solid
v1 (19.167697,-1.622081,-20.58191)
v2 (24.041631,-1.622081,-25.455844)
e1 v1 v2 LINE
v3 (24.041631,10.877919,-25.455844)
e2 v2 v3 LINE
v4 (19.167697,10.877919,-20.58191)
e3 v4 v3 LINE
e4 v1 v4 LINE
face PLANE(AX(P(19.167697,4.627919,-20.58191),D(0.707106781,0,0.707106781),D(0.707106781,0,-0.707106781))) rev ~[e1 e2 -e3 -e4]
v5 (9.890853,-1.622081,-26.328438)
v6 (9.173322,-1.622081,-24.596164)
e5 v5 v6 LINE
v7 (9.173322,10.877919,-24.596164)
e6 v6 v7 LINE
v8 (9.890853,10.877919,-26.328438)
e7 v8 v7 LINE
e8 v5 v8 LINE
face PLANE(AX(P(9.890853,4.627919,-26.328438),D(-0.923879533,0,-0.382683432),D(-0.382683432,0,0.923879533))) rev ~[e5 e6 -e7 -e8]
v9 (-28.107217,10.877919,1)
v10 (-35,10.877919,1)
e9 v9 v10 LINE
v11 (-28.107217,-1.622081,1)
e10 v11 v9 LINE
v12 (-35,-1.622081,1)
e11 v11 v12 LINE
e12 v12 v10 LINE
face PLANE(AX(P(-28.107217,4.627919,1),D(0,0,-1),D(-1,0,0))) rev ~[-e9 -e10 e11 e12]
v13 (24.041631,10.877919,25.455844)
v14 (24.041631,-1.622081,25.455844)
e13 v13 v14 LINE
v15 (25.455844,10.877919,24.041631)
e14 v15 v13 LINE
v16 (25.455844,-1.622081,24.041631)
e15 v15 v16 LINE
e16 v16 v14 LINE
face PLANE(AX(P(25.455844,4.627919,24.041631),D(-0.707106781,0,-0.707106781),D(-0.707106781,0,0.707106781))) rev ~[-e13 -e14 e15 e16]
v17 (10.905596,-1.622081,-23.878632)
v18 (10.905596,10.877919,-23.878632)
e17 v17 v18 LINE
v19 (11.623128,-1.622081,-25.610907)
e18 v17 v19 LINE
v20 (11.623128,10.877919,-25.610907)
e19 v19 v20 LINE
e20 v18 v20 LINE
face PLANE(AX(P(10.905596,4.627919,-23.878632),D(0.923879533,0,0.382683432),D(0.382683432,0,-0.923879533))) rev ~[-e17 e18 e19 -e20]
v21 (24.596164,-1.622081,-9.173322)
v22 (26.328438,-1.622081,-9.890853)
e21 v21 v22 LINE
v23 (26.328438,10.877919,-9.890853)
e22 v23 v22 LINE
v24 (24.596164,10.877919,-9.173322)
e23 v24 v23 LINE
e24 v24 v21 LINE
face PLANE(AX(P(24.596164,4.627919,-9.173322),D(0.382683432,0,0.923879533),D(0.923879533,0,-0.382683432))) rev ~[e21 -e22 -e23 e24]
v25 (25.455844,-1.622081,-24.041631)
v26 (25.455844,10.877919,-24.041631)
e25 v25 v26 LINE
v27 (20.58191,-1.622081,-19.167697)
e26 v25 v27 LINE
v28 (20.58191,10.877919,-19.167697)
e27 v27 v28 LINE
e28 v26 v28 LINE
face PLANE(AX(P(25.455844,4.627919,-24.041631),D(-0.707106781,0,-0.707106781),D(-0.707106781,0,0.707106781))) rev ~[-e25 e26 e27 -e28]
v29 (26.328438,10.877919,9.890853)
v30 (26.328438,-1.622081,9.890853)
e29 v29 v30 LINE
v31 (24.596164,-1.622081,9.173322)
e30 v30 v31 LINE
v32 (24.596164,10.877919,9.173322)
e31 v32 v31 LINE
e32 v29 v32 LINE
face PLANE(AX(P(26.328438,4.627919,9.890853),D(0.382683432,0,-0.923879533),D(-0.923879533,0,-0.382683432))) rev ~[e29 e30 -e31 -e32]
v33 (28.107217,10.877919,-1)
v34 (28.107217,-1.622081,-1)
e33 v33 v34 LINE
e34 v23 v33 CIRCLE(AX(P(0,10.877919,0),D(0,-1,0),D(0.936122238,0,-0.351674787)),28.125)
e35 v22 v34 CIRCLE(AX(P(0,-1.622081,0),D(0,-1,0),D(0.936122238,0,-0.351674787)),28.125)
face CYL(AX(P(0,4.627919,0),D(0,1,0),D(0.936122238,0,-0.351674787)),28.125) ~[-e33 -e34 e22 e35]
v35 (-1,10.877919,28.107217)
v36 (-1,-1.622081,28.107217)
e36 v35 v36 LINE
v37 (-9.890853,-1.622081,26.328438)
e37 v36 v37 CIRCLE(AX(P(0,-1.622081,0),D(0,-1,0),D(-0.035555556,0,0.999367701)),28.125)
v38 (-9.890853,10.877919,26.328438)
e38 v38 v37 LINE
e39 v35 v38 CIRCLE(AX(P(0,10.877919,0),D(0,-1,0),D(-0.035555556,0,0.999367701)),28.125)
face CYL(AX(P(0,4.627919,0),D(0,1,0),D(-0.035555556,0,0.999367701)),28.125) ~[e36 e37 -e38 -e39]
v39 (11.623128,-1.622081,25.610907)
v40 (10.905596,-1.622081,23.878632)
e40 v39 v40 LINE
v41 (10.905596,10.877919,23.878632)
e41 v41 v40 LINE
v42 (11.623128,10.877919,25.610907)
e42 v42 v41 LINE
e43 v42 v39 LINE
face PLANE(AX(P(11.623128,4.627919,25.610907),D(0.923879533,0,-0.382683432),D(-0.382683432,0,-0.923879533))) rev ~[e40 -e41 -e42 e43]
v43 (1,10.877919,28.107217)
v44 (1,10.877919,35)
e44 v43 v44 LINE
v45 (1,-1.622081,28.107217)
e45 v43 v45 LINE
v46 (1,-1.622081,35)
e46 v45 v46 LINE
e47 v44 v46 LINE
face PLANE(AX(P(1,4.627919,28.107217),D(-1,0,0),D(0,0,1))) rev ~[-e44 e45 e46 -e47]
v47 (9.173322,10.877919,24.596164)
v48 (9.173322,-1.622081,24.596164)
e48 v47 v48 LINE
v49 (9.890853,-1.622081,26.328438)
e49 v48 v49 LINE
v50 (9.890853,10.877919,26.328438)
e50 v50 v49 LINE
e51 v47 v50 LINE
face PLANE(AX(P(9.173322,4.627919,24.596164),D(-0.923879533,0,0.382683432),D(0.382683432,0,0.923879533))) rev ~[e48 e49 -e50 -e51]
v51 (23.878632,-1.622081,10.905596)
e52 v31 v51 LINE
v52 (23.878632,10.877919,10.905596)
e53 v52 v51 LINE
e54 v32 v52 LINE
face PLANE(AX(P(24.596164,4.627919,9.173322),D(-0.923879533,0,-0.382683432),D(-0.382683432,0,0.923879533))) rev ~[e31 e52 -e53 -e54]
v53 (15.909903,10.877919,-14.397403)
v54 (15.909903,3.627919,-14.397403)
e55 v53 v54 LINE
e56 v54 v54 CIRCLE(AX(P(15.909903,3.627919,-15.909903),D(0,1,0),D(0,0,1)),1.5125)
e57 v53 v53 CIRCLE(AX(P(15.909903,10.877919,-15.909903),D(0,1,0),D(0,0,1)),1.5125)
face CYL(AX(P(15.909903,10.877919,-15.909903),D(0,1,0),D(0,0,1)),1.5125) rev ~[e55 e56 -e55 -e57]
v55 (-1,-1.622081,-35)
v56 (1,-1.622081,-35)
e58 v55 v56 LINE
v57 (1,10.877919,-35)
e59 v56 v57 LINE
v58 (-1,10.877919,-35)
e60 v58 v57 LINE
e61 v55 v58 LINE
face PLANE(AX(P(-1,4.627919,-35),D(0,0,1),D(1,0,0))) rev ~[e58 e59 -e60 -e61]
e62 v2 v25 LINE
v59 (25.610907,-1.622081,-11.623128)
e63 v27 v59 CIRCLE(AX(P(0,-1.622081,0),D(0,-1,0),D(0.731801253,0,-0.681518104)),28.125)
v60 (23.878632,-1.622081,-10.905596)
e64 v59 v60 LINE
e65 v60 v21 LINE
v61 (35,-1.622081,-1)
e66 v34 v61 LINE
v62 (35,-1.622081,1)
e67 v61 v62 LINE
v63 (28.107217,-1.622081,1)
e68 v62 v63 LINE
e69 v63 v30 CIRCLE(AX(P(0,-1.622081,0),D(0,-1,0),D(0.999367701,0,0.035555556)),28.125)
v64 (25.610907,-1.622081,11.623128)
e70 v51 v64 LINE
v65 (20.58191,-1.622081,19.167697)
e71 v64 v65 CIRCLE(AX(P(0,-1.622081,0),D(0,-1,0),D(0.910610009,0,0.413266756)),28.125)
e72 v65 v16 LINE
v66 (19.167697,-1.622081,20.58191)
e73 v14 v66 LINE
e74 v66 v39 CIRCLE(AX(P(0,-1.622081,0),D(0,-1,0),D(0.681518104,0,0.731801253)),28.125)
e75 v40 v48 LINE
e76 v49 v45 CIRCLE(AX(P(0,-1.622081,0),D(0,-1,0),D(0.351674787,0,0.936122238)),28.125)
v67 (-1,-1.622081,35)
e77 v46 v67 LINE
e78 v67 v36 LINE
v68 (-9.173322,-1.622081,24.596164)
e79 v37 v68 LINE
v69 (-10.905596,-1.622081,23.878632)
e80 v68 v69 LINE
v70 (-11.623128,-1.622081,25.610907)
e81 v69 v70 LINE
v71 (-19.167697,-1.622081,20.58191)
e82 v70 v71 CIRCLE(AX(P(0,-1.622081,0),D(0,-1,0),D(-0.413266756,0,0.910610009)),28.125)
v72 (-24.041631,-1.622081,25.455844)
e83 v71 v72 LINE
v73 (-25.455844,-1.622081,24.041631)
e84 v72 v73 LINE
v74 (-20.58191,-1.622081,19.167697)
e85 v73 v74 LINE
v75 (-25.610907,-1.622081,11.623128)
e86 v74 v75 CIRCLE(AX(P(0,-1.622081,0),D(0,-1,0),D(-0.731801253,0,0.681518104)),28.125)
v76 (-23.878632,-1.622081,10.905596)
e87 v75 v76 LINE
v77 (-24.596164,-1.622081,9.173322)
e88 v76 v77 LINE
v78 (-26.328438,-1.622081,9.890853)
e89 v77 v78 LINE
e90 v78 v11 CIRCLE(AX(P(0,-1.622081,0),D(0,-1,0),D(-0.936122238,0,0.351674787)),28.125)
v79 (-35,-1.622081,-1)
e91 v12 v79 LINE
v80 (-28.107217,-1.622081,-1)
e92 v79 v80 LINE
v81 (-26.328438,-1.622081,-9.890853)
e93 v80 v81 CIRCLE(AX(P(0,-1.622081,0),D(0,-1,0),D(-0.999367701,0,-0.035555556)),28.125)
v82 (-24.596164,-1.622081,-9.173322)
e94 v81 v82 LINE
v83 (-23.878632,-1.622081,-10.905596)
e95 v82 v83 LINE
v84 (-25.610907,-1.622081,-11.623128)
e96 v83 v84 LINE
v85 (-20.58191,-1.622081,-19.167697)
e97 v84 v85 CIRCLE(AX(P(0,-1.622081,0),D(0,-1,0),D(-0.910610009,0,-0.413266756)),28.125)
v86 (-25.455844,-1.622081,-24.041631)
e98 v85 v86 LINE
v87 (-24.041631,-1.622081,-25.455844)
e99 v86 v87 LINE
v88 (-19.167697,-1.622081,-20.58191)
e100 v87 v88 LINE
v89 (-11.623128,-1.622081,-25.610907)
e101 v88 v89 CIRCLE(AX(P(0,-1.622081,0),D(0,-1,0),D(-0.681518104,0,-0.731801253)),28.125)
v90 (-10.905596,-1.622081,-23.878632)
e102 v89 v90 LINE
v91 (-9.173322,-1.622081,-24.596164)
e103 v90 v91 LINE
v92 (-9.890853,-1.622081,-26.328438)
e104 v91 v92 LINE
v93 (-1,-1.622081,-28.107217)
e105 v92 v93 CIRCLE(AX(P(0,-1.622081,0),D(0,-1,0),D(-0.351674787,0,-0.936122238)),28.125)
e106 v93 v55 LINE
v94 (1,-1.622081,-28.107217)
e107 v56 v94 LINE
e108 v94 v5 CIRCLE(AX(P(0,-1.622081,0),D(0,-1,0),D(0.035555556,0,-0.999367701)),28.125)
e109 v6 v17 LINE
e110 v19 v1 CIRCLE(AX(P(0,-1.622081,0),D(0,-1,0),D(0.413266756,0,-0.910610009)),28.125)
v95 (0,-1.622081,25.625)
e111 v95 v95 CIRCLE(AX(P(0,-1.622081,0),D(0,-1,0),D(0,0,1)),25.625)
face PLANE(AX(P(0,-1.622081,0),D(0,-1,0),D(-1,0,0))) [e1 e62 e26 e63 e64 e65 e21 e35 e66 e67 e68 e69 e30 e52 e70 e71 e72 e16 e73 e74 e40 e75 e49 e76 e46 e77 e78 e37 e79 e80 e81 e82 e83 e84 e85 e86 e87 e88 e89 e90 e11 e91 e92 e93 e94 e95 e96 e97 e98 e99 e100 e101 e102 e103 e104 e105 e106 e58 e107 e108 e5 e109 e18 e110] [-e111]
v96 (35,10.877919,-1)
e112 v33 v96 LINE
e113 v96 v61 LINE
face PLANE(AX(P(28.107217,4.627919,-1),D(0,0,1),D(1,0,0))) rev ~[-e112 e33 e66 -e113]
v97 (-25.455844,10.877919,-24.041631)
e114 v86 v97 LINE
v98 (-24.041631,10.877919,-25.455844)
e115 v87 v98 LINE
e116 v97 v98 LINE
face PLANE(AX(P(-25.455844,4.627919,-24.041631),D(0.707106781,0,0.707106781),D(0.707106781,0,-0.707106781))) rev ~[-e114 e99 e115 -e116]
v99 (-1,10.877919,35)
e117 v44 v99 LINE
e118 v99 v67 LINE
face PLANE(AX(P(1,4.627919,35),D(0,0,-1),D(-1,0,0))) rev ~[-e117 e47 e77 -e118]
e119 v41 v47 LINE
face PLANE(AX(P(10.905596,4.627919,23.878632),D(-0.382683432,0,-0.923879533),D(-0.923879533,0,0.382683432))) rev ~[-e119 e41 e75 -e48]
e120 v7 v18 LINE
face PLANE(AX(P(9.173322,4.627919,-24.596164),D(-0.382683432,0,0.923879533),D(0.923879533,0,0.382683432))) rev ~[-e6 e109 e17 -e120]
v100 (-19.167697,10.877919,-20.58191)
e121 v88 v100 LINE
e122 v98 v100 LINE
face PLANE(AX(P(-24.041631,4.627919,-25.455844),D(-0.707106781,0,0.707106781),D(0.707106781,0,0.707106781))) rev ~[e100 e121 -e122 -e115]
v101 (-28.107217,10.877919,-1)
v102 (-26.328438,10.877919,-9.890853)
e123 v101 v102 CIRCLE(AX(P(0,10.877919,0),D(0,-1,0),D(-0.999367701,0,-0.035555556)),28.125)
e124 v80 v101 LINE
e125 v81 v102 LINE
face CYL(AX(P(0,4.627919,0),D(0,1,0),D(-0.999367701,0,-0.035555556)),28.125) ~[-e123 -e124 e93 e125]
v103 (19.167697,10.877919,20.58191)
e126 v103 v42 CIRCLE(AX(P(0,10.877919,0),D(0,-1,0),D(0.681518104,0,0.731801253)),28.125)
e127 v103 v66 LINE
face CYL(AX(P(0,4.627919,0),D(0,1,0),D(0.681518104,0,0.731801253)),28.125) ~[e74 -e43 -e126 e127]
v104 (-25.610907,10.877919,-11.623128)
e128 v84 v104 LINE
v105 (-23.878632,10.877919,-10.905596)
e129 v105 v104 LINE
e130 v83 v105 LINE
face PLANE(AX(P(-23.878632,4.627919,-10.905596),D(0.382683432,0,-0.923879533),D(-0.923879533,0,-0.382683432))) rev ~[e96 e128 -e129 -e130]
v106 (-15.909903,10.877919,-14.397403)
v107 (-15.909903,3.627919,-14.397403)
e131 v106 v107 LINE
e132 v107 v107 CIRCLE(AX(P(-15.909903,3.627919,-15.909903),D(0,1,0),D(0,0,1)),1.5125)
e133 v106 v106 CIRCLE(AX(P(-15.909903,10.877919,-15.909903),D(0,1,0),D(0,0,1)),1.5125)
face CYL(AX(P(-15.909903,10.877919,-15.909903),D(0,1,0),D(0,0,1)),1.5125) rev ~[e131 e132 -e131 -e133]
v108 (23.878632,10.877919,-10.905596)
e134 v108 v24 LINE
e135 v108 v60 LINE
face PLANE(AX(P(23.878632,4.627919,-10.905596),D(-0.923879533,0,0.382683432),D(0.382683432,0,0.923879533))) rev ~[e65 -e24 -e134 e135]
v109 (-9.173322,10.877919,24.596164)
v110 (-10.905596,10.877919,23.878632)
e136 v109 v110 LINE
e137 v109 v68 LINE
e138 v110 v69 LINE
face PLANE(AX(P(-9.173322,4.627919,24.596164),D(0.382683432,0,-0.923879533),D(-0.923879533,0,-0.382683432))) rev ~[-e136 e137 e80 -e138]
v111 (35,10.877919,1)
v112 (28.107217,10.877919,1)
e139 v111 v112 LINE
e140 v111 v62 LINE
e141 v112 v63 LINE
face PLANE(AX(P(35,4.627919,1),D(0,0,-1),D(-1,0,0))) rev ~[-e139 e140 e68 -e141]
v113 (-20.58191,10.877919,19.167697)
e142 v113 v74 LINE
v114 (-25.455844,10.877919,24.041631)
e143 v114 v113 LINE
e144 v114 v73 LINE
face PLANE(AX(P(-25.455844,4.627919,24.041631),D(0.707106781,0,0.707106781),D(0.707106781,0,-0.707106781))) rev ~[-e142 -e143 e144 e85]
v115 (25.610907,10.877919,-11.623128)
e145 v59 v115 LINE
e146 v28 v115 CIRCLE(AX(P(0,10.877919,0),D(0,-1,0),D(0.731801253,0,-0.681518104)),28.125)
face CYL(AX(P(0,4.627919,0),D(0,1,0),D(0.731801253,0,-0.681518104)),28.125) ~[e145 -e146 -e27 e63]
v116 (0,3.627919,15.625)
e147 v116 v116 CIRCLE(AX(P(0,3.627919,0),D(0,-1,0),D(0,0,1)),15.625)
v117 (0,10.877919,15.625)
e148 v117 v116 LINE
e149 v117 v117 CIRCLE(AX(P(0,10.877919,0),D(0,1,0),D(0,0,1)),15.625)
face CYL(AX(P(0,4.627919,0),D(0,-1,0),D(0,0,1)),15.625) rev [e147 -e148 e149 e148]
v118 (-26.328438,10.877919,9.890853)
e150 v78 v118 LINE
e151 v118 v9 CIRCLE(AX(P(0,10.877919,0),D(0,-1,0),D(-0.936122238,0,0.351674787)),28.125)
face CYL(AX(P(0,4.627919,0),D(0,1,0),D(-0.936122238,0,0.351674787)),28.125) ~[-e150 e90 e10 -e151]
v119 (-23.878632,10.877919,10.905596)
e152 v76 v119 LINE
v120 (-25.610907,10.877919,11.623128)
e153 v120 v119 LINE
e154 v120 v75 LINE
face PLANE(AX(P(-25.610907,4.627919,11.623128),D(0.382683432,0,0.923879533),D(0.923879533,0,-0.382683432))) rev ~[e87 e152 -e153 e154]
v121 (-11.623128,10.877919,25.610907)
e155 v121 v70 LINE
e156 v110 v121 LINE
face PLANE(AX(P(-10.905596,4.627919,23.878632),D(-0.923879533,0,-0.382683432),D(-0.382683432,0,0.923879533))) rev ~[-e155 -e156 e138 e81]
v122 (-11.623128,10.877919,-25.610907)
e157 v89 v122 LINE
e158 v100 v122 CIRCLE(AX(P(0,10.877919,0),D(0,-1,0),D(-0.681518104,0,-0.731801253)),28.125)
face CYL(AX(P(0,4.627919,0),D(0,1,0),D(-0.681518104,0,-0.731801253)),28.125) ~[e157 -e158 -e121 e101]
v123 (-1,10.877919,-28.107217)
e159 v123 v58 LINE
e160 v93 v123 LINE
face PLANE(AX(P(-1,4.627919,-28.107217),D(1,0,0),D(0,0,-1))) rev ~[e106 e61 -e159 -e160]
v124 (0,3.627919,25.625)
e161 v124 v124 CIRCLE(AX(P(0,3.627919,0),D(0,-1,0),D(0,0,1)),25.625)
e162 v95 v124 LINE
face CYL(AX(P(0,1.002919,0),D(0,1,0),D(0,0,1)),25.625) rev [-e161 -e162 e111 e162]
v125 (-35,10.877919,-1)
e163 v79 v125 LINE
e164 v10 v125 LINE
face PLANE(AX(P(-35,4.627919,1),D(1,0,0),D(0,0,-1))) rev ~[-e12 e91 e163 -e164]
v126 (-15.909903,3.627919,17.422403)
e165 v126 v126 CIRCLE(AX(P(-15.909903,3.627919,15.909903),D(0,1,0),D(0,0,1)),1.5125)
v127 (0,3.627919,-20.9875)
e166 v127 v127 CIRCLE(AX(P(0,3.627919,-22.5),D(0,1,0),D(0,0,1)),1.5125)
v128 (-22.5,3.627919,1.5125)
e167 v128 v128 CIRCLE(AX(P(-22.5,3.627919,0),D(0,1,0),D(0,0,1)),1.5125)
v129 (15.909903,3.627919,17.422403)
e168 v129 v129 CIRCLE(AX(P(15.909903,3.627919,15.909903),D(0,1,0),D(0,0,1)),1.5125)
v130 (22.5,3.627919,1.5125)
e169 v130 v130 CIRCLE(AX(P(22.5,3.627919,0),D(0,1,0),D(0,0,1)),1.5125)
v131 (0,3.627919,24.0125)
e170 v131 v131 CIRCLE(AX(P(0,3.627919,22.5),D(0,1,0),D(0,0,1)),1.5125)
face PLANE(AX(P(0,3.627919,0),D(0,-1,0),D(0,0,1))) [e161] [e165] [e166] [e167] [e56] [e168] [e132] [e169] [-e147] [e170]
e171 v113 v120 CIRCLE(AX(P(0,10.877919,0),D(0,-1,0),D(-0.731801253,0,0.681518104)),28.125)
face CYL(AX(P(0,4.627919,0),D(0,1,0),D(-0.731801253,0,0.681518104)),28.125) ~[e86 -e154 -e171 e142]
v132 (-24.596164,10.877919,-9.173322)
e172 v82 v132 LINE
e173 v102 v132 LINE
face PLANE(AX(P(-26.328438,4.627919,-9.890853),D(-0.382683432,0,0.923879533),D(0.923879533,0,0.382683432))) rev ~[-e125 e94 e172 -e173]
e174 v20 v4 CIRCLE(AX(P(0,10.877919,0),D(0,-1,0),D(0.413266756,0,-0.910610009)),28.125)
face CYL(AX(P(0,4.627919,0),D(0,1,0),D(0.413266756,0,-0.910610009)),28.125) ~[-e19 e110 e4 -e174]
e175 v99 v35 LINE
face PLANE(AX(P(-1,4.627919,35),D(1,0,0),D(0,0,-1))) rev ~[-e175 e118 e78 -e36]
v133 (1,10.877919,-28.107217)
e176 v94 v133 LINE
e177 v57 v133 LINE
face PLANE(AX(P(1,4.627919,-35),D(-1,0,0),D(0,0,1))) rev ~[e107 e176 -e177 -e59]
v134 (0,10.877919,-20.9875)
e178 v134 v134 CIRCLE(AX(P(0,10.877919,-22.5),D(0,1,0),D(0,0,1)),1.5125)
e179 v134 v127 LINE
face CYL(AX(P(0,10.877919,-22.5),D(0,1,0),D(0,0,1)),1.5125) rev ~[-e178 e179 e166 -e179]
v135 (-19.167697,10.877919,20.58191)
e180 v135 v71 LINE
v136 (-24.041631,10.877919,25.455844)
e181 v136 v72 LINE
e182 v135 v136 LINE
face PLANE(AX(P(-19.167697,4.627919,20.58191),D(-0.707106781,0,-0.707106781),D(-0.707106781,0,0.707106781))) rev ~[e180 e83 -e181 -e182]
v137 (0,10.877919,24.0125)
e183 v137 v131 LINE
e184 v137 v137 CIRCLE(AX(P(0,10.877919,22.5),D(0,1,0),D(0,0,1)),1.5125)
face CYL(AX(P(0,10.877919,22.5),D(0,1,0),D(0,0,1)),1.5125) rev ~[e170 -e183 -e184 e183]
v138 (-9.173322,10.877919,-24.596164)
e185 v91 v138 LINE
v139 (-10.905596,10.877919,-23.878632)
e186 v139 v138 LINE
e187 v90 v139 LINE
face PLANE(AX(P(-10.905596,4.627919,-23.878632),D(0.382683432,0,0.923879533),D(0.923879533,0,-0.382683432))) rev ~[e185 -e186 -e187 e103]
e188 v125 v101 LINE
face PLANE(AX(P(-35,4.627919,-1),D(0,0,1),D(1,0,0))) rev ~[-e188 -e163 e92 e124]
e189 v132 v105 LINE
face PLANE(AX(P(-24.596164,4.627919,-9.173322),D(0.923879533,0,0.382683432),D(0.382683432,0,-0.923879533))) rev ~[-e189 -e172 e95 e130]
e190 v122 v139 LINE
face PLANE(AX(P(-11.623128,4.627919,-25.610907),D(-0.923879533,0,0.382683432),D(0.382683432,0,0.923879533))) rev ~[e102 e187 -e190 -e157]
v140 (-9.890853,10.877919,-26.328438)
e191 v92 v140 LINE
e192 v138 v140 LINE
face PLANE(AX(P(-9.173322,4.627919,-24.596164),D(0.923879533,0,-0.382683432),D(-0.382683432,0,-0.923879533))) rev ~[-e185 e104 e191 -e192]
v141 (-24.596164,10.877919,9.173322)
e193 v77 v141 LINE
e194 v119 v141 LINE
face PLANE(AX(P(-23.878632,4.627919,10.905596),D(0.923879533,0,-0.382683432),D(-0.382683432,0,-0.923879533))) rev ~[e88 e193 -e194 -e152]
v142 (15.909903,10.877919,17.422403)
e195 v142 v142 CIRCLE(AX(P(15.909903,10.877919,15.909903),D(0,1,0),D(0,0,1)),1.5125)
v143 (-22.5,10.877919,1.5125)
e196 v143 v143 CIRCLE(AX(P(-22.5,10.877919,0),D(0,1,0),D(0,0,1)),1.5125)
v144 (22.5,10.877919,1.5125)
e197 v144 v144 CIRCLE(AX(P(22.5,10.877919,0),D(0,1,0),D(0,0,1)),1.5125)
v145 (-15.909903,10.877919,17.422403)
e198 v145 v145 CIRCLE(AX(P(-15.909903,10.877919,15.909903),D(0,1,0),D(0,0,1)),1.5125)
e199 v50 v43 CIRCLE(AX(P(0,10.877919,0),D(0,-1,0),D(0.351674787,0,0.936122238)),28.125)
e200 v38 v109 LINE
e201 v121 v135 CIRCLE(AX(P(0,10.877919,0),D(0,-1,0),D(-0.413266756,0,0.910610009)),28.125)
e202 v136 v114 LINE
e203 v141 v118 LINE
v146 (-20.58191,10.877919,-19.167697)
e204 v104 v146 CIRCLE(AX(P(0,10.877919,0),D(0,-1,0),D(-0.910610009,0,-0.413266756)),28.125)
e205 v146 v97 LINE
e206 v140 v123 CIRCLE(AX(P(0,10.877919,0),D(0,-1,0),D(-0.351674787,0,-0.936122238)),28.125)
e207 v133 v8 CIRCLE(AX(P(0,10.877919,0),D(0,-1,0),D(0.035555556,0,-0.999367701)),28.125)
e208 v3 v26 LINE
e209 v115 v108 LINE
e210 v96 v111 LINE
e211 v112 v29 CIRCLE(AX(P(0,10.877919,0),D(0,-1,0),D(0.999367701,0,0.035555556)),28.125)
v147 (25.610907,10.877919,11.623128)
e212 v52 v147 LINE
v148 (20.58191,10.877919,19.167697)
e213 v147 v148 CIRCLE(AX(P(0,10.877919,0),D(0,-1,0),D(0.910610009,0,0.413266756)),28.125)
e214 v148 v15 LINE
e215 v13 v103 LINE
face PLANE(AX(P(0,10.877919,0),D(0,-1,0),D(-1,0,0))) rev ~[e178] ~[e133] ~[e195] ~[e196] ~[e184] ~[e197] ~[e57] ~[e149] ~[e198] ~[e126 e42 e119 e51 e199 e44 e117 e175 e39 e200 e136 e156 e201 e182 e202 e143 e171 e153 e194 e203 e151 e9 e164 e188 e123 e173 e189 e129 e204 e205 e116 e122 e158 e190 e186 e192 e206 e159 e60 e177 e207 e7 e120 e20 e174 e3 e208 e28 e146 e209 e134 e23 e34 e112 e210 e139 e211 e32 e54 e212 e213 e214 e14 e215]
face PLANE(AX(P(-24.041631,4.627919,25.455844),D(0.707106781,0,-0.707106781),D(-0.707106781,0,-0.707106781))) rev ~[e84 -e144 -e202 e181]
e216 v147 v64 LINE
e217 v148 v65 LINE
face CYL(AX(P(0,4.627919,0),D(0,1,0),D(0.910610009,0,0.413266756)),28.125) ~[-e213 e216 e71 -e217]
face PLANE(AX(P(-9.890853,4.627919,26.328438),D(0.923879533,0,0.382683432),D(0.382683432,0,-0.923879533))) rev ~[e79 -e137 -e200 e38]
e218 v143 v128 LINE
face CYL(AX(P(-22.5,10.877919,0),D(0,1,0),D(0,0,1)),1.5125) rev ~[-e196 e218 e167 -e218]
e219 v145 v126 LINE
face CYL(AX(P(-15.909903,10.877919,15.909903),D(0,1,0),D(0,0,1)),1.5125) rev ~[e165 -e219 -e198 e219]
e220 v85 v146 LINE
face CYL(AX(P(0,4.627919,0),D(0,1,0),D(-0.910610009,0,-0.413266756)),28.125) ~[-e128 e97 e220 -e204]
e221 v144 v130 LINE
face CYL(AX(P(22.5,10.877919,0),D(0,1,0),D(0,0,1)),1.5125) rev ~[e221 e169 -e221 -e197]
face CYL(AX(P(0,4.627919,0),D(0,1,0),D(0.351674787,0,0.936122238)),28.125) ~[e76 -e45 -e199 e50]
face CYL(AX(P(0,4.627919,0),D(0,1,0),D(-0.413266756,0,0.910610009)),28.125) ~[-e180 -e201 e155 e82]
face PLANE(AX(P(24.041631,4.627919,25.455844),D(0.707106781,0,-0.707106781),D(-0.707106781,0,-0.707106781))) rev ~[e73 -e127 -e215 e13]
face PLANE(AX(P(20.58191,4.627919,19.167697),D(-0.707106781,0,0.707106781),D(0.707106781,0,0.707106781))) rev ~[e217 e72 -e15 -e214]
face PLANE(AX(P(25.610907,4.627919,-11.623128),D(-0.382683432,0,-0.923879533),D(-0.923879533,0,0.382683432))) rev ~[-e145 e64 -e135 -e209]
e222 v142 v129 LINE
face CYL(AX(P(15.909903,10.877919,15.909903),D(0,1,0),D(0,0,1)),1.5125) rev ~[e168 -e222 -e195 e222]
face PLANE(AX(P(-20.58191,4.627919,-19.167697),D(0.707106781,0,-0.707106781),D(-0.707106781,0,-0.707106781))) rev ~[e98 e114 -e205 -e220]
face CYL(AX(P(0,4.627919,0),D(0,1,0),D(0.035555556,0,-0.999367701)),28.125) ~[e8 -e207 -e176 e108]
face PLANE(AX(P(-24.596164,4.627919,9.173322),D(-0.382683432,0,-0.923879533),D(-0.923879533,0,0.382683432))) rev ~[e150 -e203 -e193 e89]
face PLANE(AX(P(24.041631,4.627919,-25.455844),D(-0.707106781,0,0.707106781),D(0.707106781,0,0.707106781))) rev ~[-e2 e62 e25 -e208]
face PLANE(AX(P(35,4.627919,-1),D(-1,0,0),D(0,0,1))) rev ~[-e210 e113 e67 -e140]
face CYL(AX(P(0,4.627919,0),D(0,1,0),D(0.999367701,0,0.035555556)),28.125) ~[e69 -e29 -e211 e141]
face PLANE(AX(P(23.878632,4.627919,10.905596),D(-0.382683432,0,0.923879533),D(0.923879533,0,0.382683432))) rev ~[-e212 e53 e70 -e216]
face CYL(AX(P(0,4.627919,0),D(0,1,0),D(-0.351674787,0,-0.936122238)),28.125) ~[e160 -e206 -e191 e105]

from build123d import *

# Parameters (mm, degrees)
SKETCH1_R           = 62.5
BOSS_EXTRUDE1_DEPTH = 25
SKETCH3_W           = 40
SKETCH3_H           = 21
SKETCH7_R           = 6.05
CUT_EXTRUDE1_DEPTH  = 205.205778567
SCALE1_SCALE        = 0.25


with BuildPart() as part:
    # Sketch1 → Boss-Extrude1 (new, symmetric)
    with BuildSketch(Plane(origin=(0, 0, 0), x_dir=(1, 0, 0), z_dir=(0, 1, 0))):
        with BuildLine():
            Line((95.514529523, 43.622384283), (102.443626017, 46.492510026))
            ThreePointArc((102.443626017, 46.492510026), (93.609761087, 62.397617177), (82.327640957, 76.670786708))
            Line((82.327640957, 76.670786708), (101.823376491, 96.166522241))
            Line((101.823376491, 96.166522241), (96.166522241, 101.823376491))
            Line((96.166522241, 101.823376491), (76.670786708, 82.327640957))
            ThreePointArc((76.670786708, 82.327640957), (62.397617177, 93.609761087), (46.492510026, 102.443626017))
            Line((46.492510026, 102.443626017), (43.622384283, 95.514529523))
            Line((43.622384283, 95.514529523), (36.693287789, 98.384655266))
            Line((36.693287789, 98.384655266), (39.563413532, 105.31375176))
            ThreePointArc((39.563413532, 105.31375176), (22.070318614, 110.313875085), (4, 112.4288664))
            Line((4, 112.4288664), (4, 140))
            Line((4, 140), (-4, 140))
            Line((-4, 140), (-4, 112.4288664))
            ThreePointArc((-4, 112.4288664), (-22.070318614, 110.313875085), (-39.563413532, 105.31375176))
            Line((-39.563413532, 105.31375176), (-36.693287789, 98.384655266))
            Line((-36.693287789, 98.384655266), (-43.622384283, 95.514529523))
            Line((-43.622384283, 95.514529523), (-46.492510026, 102.443626017))
            ThreePointArc((-46.492510026, 102.443626017), (-62.397617177, 93.609761087), (-76.670786708, 82.327640957))
            Line((-76.670786708, 82.327640957), (-96.166522241, 101.823376491))
            Line((-96.166522241, 101.823376491), (-101.823376491, 96.166522241))
            Line((-101.823376491, 96.166522241), (-82.327640957, 76.670786708))
            ThreePointArc((-82.327640957, 76.670786708), (-93.609761087, 62.397617177), (-102.443626017, 46.492510026))
            Line((-102.443626017, 46.492510026), (-95.514529523, 43.622384283))
            Line((-95.514529523, 43.622384283), (-98.384655266, 36.693287789))
            Line((-98.384655266, 36.693287789), (-105.31375176, 39.563413532))
            ThreePointArc((-105.31375176, 39.563413532), (-110.313875085, 22.070318614), (-112.4288664, 4))
            Line((-112.4288664, 4), (-140, 4))
            Line((-140, 4), (-140, -4))
            Line((-140, -4), (-112.4288664, -4))
            ThreePointArc((-112.4288664, -4), (-110.313875085, -22.070318614), (-105.31375176, -39.563413532))
            Line((-105.31375176, -39.563413532), (-98.384655266, -36.693287789))
            Line((-98.384655266, -36.693287789), (-95.514529523, -43.622384283))
            Line((-95.514529523, -43.622384283), (-102.443626017, -46.492510026))
            ThreePointArc((-102.443626017, -46.492510026), (-93.609761087, -62.397617177), (-82.327640957, -76.670786708))
            Line((-82.327640957, -76.670786708), (-101.823376491, -96.166522241))
            Line((-101.823376491, -96.166522241), (-96.166522241, -101.823376491))
            Line((-96.166522241, -101.823376491), (-76.670786708, -82.327640957))
            ThreePointArc((-76.670786708, -82.327640957), (-62.397617177, -93.609761087), (-46.492510026, -102.443626017))
            Line((-46.492510026, -102.443626017), (-43.622384283, -95.514529523))
            Line((-43.622384283, -95.514529523), (-36.693287789, -98.384655266))
            Line((-36.693287789, -98.384655266), (-39.563413532, -105.31375176))
            ThreePointArc((-39.563413532, -105.31375176), (-22.070318614, -110.313875085), (-4, -112.4288664))
            Line((-4, -112.4288664), (-4, -140))
            Line((-4, -140), (4, -140))
            Line((4, -140), (4, -112.4288664))
            ThreePointArc((4, -112.4288664), (22.070318614, -110.313875085), (39.563413532, -105.31375176))
            Line((39.563413532, -105.31375176), (36.693287789, -98.384655266))
            Line((36.693287789, -98.384655266), (43.622384283, -95.514529523))
            Line((43.622384283, -95.514529523), (46.492510026, -102.443626017))
            ThreePointArc((46.492510026, -102.443626017), (62.397617177, -93.609761087), (76.670786708, -82.327640957))
            Line((76.670786708, -82.327640957), (96.166522241, -101.823376491))
            Line((96.166522241, -101.823376491), (101.823376491, -96.166522241))
            Line((101.823376491, -96.166522241), (82.327640957, -76.670786708))
            ThreePointArc((82.327640957, -76.670786708), (93.609761087, -62.397617177), (102.443626017, -46.492510026))
            Line((102.443626017, -46.492510026), (95.514529523, -43.622384283))
            Line((95.514529523, -43.622384283), (98.384655266, -36.693287789))
            Line((98.384655266, -36.693287789), (105.31375176, -39.563413532))
            ThreePointArc((105.31375176, -39.563413532), (110.313875085, -22.070318614), (112.4288664, -4))
            Line((112.4288664, -4), (140, -4))
            Line((140, -4), (140, 4))
            Line((140, 4), (112.4288664, 4))
            ThreePointArc((112.4288664, 4), (110.313875085, 22.070318614), (105.31375176, 39.563413532))
            Line((105.31375176, 39.563413532), (98.384655266, 36.693287789))
            Line((98.384655266, 36.693287789), (95.514529523, 43.622384283))
        make_face()
        Circle(SKETCH1_R, mode=Mode.SUBTRACT)
    extrude(amount=BOSS_EXTRUDE1_DEPTH, both=True)

    # Sketch3 → Cut-Revolve1 (revolve, cut)
    with BuildSketch(Plane.XY):
        with Locations((-82.5, -14.5)):
            Rectangle(SKETCH3_W, SKETCH3_H)
    revolve(axis=Axis((0, 65.266274402, 0), (0, -1, 0)), mode=Mode.SUBTRACT)

    # Sketch7 → Cut-Extrude1 (cut, through all)
    with BuildSketch(Plane(origin=(0, 25, 0), x_dir=(1, 0, 0), z_dir=(0, 1, 0))):
        with Locations((0, 90)):
            Circle(SKETCH7_R)
        with Locations((63.639610307, 63.639610307)):
            Circle(SKETCH7_R)
        with Locations((90, 0)):
            Circle(SKETCH7_R)
        with Locations((63.639610307, -63.639610307)):
            Circle(SKETCH7_R)
        with Locations((0, -90)):
            Circle(SKETCH7_R)
        with Locations((-63.639610307, -63.639610307)):
            Circle(SKETCH7_R)
        with Locations((-90, 0)):
            Circle(SKETCH7_R)
        with Locations((-63.639610307, 63.639610307)):
            Circle(SKETCH7_R)
    extrude(amount=-CUT_EXTRUDE1_DEPTH, mode=Mode.SUBTRACT)


with BuildPart() as part_1:
    # Scale1: scaled about (0, 6.17055907, 0)
    add(part.part.scale(SCALE1_SCALE).moved(Location((0, 4.627919303, 0))))


solid = part_1.part
